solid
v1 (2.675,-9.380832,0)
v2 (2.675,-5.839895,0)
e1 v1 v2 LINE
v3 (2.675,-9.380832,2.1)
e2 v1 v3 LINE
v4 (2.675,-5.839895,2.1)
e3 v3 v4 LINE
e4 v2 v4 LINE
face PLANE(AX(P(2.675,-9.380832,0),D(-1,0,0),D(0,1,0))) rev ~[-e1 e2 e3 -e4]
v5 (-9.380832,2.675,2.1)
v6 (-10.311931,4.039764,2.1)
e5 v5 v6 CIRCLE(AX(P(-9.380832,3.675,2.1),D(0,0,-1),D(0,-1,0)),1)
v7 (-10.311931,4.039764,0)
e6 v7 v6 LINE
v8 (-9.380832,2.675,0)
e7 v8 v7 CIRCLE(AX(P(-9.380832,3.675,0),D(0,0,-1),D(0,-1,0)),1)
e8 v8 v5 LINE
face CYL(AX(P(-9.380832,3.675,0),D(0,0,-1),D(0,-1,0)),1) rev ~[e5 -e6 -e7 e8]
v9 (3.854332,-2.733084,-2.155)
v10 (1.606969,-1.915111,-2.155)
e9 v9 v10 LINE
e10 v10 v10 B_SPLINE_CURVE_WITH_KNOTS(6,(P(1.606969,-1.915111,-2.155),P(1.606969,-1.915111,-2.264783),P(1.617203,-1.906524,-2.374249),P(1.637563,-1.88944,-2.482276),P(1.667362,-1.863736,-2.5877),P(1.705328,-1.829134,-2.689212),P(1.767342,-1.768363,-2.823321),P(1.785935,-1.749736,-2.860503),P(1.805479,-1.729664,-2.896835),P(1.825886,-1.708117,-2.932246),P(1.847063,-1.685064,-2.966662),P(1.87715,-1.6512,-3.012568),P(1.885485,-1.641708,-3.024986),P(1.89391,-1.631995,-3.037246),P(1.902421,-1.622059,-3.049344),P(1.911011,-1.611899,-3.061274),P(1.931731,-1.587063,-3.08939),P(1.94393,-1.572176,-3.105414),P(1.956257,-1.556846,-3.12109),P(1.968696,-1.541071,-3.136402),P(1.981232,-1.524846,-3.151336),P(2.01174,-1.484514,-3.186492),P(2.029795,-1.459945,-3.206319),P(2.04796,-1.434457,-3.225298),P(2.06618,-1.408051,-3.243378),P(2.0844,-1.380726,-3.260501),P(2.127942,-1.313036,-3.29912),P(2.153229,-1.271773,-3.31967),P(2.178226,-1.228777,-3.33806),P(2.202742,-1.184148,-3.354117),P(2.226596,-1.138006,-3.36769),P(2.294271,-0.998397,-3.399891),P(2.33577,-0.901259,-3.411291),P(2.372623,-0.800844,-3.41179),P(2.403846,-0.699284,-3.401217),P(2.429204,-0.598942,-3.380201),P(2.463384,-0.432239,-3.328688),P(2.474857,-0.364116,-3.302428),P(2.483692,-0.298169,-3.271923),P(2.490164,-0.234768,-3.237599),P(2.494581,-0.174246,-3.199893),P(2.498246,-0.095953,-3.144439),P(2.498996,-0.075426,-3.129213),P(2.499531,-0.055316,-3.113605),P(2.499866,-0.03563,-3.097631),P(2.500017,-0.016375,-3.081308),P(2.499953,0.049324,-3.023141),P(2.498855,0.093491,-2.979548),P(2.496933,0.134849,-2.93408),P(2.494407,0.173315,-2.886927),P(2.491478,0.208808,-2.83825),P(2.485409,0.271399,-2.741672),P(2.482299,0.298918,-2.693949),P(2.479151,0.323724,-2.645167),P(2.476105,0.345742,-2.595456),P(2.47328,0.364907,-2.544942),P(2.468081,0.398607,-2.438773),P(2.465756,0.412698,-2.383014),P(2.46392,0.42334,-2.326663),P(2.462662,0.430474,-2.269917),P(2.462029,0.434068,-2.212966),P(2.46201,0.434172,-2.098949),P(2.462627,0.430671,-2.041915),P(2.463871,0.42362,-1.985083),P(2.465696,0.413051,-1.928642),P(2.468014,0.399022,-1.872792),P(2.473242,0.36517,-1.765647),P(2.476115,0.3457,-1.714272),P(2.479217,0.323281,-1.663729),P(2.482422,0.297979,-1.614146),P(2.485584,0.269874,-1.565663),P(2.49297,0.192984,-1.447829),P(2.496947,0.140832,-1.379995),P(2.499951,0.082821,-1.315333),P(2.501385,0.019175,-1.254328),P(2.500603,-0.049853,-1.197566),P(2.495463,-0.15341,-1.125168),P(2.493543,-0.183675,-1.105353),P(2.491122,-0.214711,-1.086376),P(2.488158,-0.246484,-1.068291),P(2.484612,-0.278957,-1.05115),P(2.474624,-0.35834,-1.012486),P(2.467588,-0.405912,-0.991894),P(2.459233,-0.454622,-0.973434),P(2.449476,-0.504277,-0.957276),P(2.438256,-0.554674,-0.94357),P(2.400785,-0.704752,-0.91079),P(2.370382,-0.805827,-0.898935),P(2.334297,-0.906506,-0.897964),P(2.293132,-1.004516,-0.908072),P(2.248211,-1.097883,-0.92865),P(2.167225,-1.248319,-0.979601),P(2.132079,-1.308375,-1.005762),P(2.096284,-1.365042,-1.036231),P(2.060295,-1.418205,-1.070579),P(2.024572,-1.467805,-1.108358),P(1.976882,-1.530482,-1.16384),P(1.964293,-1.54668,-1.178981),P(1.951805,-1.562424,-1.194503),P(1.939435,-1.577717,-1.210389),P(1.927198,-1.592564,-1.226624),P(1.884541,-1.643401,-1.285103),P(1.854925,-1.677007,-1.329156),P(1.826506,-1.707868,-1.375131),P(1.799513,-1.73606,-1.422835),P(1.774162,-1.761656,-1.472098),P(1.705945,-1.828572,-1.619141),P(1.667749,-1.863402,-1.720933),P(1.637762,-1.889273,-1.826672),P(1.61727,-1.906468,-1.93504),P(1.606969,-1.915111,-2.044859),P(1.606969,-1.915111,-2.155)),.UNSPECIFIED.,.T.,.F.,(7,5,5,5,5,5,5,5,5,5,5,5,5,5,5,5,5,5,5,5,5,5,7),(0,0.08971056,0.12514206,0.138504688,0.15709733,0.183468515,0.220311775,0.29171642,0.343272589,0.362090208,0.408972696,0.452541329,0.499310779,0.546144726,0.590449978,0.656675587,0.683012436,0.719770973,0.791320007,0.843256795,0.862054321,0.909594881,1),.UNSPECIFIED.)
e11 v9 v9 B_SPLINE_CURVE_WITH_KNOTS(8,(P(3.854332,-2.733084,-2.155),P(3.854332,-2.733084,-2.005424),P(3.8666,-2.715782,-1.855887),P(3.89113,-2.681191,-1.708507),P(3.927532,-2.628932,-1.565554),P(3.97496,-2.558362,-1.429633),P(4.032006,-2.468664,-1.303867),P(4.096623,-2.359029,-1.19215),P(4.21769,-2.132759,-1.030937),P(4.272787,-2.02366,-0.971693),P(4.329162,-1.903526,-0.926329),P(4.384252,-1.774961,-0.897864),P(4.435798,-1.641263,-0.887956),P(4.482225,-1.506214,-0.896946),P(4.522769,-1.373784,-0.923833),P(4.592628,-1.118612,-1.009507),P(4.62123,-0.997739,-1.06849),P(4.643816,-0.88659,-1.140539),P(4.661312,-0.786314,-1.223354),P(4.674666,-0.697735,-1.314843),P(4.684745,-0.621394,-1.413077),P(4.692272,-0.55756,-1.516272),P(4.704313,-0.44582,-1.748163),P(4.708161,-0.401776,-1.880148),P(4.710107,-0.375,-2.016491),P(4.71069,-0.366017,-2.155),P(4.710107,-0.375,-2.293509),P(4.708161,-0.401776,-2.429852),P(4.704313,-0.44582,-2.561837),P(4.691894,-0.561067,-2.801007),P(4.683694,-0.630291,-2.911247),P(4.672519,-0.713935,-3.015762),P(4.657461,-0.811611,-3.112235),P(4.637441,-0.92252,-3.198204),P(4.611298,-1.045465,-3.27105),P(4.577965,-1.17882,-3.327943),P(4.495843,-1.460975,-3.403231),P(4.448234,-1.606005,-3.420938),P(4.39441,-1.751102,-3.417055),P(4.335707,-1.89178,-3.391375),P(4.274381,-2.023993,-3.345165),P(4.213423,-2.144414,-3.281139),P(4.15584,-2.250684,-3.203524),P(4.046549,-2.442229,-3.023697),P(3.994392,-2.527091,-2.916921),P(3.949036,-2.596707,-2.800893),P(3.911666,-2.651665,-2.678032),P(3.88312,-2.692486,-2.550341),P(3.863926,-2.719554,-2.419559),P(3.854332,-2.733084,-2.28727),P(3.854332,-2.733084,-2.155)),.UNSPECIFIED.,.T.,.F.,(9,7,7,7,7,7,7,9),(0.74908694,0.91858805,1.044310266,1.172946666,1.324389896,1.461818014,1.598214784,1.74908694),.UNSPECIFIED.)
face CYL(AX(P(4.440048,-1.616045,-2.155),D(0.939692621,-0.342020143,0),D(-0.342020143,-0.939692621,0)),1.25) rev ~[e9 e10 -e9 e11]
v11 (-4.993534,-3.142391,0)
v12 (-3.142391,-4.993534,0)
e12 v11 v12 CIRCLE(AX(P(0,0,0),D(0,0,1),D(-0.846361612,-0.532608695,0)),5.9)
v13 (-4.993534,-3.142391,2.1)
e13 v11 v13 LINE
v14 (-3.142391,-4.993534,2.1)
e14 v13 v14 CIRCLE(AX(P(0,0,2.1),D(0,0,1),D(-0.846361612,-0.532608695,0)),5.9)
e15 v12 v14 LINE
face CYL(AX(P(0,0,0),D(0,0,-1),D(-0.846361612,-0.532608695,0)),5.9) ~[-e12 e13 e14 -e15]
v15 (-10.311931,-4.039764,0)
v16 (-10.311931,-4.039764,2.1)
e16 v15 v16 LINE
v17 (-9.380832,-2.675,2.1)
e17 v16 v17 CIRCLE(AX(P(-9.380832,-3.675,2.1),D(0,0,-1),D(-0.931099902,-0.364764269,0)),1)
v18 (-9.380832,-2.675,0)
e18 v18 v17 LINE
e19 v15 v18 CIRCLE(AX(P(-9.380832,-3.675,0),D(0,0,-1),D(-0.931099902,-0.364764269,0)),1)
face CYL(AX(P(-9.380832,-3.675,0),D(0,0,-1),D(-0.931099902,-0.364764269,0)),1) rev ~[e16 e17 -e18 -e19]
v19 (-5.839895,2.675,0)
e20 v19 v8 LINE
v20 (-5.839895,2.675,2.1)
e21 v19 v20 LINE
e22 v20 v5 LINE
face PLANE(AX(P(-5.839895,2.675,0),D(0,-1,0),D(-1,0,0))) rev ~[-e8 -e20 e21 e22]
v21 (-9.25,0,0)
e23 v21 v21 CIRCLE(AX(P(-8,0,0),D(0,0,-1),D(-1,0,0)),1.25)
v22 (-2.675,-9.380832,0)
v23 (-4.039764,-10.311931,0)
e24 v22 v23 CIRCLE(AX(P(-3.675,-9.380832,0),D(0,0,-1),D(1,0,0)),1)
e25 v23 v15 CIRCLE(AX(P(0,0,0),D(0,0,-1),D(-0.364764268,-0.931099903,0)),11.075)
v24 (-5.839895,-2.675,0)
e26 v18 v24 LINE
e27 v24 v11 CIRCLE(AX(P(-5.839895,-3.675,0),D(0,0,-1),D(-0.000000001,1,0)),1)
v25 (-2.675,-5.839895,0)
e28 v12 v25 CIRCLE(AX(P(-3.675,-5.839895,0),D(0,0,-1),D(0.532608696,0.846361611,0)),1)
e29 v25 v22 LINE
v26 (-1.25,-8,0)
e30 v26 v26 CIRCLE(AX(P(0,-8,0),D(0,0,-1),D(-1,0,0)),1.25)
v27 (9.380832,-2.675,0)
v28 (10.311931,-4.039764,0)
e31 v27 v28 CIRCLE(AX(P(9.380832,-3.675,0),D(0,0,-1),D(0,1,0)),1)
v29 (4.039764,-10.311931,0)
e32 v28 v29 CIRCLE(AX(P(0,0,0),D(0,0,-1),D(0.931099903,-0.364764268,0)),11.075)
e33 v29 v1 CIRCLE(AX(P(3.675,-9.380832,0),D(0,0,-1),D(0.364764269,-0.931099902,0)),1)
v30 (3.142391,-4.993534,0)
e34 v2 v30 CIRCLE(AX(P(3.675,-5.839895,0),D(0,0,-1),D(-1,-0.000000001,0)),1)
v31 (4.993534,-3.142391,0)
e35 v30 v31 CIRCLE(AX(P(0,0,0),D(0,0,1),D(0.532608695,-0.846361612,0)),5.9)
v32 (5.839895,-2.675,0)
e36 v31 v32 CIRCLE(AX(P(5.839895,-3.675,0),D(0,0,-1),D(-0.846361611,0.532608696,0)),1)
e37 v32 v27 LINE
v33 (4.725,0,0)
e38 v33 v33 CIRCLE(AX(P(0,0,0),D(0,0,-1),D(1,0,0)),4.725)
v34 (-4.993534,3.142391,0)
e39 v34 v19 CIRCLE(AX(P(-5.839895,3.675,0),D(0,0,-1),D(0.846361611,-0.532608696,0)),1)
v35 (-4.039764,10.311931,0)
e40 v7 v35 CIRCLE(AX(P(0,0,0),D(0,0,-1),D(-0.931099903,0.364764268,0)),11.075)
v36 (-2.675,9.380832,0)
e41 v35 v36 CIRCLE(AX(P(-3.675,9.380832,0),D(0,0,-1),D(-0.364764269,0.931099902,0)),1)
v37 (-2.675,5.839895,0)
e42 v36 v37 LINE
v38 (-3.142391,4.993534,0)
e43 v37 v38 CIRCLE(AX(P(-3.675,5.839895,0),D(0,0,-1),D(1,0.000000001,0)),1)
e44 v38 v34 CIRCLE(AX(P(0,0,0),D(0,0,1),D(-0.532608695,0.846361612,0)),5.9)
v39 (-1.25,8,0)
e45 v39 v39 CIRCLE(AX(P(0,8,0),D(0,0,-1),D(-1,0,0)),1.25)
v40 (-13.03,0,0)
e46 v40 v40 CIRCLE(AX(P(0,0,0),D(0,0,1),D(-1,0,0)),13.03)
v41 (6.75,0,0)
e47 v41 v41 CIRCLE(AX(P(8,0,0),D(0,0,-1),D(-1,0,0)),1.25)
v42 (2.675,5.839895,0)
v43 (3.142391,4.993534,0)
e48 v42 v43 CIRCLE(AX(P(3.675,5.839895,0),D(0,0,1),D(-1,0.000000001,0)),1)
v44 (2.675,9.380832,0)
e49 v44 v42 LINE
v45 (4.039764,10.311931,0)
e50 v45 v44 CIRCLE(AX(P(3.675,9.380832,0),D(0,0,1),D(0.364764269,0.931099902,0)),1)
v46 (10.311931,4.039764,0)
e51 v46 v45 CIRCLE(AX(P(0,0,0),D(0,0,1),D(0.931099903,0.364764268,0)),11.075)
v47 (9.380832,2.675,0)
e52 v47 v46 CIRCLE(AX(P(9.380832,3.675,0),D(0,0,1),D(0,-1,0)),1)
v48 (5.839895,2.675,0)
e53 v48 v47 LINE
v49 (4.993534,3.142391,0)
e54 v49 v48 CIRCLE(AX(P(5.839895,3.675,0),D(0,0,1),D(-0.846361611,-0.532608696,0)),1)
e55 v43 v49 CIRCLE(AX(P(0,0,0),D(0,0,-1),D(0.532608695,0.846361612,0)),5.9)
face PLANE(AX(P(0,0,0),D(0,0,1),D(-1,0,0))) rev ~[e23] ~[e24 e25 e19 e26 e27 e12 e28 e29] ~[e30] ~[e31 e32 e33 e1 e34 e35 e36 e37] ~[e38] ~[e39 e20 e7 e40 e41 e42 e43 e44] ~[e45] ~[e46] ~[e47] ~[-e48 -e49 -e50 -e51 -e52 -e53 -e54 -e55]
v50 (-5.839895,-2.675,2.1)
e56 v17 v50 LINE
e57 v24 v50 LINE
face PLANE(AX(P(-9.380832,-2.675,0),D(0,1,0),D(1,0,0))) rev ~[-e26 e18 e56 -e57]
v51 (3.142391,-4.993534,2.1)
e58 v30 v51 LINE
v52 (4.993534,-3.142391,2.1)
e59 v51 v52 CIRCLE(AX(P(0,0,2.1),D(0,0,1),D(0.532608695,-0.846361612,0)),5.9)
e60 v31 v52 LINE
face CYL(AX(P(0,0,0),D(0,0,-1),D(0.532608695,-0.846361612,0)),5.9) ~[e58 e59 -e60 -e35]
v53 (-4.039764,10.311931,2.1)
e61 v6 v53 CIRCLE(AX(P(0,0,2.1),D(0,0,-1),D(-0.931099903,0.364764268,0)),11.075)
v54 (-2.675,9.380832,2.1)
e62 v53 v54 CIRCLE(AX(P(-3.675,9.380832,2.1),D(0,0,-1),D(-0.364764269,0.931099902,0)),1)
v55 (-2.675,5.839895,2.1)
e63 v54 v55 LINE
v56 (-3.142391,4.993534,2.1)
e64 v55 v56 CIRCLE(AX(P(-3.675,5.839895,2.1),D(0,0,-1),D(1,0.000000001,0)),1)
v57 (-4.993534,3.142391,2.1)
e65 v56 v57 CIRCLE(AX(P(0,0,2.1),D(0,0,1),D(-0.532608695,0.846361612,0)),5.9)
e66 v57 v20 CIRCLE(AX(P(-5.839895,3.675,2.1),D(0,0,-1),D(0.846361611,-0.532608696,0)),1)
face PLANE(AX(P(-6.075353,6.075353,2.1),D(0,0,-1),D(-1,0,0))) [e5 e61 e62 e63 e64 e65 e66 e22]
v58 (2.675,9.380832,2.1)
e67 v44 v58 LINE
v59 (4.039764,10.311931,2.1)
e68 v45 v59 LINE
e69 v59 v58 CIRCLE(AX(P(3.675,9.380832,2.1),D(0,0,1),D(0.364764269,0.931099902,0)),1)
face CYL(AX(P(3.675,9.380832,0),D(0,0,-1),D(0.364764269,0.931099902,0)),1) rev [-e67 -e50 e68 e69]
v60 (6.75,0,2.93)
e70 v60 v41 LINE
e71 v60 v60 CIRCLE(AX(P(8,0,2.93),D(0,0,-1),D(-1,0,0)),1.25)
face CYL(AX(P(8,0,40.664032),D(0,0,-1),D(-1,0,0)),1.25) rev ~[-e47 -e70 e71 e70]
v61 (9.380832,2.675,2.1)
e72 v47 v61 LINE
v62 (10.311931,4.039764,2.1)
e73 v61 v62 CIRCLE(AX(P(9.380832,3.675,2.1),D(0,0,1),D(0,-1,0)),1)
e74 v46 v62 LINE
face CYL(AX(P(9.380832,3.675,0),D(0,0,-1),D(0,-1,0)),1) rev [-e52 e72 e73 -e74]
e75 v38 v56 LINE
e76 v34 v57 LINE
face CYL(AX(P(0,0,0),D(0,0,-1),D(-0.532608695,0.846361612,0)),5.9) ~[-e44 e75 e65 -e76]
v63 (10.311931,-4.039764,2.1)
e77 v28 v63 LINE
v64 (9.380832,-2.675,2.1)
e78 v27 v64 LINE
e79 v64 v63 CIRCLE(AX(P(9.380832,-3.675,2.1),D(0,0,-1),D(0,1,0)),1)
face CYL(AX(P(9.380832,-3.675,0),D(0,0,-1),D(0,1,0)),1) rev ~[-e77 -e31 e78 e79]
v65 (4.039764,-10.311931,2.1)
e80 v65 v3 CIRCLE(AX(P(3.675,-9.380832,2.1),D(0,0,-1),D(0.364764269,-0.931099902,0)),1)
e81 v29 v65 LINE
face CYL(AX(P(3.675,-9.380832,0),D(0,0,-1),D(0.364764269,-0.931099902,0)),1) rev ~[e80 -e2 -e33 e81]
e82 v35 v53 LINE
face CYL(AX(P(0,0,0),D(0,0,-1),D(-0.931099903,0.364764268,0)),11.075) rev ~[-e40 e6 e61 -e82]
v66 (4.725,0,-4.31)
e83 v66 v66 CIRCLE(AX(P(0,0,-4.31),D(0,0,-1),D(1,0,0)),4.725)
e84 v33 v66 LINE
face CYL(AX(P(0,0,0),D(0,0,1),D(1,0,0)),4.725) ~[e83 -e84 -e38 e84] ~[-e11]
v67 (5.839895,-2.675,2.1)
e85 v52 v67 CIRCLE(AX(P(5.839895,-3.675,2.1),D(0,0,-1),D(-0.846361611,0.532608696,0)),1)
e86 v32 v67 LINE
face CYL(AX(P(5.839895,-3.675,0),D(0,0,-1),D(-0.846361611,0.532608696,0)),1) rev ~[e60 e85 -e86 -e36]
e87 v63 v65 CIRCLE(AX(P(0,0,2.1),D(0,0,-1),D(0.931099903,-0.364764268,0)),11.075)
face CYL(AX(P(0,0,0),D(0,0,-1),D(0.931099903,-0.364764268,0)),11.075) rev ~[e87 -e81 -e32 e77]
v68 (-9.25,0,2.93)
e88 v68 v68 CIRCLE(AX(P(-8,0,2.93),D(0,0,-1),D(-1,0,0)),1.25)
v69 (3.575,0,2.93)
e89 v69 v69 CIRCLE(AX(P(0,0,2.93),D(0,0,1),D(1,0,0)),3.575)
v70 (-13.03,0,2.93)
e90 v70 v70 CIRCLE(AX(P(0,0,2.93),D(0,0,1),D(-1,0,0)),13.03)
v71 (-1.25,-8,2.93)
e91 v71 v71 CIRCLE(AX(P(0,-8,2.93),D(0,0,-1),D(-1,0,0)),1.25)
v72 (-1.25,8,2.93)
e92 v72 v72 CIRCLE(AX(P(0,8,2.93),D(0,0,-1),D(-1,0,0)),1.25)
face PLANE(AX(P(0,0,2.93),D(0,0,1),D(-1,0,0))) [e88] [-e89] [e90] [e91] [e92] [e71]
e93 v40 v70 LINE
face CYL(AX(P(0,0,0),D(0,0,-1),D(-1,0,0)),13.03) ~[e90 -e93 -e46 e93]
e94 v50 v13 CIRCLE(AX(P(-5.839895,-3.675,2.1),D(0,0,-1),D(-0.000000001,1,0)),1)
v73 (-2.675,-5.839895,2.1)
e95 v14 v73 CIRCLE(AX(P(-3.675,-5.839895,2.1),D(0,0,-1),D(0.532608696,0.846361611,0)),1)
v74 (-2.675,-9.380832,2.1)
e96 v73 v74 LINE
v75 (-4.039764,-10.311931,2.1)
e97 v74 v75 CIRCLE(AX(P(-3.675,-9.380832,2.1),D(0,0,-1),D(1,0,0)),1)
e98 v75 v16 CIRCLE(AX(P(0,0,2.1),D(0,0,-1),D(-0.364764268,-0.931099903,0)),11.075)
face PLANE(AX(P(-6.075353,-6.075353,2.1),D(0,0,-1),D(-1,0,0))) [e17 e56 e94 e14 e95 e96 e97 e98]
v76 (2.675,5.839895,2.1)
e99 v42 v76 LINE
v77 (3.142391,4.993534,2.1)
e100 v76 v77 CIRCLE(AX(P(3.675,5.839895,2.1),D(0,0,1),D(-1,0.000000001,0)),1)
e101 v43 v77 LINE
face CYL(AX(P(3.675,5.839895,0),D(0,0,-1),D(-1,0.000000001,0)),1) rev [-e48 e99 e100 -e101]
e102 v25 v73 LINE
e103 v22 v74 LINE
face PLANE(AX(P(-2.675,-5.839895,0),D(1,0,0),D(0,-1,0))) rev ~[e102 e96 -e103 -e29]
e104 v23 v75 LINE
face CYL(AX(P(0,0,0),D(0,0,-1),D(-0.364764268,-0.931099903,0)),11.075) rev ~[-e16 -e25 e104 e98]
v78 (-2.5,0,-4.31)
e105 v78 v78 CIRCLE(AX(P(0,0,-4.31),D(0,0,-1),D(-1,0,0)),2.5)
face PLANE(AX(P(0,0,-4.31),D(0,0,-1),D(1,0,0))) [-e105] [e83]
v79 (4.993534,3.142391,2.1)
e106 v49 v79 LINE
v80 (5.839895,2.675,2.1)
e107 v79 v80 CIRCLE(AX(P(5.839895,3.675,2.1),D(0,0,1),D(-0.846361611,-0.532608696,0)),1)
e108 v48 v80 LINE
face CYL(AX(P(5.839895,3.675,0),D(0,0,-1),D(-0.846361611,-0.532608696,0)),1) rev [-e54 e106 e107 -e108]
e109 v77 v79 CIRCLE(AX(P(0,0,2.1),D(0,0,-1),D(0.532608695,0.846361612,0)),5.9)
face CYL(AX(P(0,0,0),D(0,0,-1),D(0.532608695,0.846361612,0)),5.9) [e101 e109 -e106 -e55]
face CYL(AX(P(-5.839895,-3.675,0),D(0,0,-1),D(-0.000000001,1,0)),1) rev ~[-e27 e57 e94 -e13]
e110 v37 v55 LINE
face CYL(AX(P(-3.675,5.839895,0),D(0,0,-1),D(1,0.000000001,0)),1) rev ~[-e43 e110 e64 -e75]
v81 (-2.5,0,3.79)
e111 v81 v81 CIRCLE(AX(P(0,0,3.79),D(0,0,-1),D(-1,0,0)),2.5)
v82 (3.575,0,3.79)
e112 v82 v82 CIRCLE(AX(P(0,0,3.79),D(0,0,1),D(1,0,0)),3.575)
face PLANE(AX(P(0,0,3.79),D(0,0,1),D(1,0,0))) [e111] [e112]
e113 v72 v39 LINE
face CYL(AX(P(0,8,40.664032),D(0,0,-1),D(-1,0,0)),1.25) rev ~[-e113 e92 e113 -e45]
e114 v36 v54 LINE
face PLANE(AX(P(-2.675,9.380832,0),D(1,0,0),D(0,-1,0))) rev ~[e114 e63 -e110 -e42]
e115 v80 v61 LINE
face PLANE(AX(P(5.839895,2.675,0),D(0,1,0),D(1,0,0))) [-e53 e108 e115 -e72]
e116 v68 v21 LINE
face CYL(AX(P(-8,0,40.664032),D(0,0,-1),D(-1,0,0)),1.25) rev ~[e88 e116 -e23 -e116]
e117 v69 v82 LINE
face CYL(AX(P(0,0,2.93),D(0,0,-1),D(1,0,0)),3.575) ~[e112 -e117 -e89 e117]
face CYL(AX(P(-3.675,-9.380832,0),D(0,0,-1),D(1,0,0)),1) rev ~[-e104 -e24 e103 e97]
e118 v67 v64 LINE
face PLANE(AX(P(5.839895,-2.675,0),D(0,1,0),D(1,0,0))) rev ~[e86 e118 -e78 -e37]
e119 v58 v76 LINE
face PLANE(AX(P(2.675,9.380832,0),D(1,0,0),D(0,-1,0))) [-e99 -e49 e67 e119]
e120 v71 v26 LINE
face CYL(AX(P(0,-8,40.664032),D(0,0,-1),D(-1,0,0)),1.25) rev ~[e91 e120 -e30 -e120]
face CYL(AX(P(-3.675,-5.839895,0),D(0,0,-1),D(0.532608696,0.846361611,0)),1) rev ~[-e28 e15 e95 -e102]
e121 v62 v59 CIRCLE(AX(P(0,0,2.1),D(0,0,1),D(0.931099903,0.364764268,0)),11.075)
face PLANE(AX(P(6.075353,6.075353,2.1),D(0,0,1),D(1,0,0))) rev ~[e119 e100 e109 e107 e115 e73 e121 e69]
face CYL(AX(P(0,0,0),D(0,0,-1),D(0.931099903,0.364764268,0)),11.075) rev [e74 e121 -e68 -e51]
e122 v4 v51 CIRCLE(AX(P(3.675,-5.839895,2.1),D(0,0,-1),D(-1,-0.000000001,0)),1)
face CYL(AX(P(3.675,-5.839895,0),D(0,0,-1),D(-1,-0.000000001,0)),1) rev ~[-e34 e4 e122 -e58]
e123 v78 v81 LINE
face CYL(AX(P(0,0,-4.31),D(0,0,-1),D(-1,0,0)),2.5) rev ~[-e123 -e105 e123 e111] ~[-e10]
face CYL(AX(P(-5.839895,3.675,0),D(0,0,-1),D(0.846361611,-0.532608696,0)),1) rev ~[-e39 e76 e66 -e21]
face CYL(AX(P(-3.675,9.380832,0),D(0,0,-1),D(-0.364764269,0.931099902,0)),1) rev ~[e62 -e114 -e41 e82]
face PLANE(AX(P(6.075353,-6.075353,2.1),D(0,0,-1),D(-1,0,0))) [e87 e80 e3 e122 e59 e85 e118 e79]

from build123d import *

# Parameters (mm, degrees)
SCHIZZO1_R                     = 13.03
ESTRUSIONE_ESTRUSIONE1_DEPTH   = 2.93
SCHIZZO2_R                     = 3.575
ESTRUSIONE_ESTRUSIONE2_DEPTH   = 0.86
SCHIZZO3_R                     = 4.725
ESTRUSIONE_ESTRUSIONE3_DEPTH   = 4.31
SCHIZZO4_R                     = 2.5
TAGLIO_ESTRUSIONE1_DEPTH       = 21.12887975
FORO_FILETTATO_M3X0_5_1_D      = 2.5
TAGLIO_ESTRUSIONE2_DEPTH       = 2.1
FORO_FILETTATO_M3X0_5_2_REACH  = 25.201
FORO_FILETTATO_M3X0_5_2_BORE_R = 1.25


with BuildPart() as part:
    # Schizzo1 → Estrusione-Estrusione1 (new body)
    with BuildSketch(Plane.XY):
        with Locations(Location((0, 0, 0), (0, 0, 180))):
            Circle(SCHIZZO1_R)
    extrude(amount=ESTRUSIONE_ESTRUSIONE1_DEPTH)

    # Schizzo2 → Estrusione-Estrusione2 (add)
    with BuildSketch(Plane.XY.offset(2.93)):
        Circle(SCHIZZO2_R)
    extrude(amount=ESTRUSIONE_ESTRUSIONE2_DEPTH)

    # Schizzo3 → Estrusione-Estrusione3 (add)
    with BuildSketch(Plane(origin=(0, 0, 0), x_dir=(-1, 0, 0), z_dir=(0, 0, -1))):
        with Locations(Location((0, 0, 0), (0, 0, 180))):
            Circle(SCHIZZO3_R)
    extrude(amount=ESTRUSIONE_ESTRUSIONE3_DEPTH)

    # Schizzo4 → Taglio-Estrusione1 (cut, through all)
    with BuildSketch(Plane(origin=(0, 0, -4.31), x_dir=(-1, 0, 0), z_dir=(0, 0, -1))):
        Circle(SCHIZZO4_R)
    extrude(amount=-TAGLIO_ESTRUSIONE1_DEPTH, mode=Mode.SUBTRACT)

    # Foro filettato M3x0.5-1 (through all)
    with Locations(Plane.XY.offset(2.93)):
        with Locations((0, 8), (0, -8), (8, 0), (-8, 0)):
            Hole(FORO_FILETTATO_M3X0_5_1_D / 2)

    # Schizzo7 → Taglio-Estrusione2 (cut)
    with BuildSketch(Plane(origin=(0, 0, 0), x_dir=(-1, 0, 0), z_dir=(0, 0, -1))):
        with BuildLine():
            Line((2.675, 9.38083152), (2.675, 5.839895119))
            ThreePointArc((2.675, 5.839895119), (2.799611887, 5.356474337), (3.142391304, 4.993533507))
            ThreePointArc((3.142391304, 4.993533507), (4.171930009, 4.171930009), (4.993533507, 3.142391304))
            ThreePointArc((4.993533507, 3.142391304), (5.356474337, 2.799611887), (5.839895119, 2.675))
            Line((5.839895119, 2.675), (9.38083152, 2.675))
            ThreePointArc((9.38083152, 2.675), (10.206895763, 3.111424037), (10.311931422, 4.039764268))
            ThreePointArc((10.311931422, 4.039764268), (7.831207602, 7.831207602), (4.039764268, 10.311931422))
            ThreePointArc((4.039764268, 10.311931422), (3.111424037, 10.206895763), (2.675, 9.38083152))
        make_face()
        with BuildLine():
            Line((-2.675, 9.38083152), (-2.675, 5.839895119))
            ThreePointArc((-2.675, 5.839895119), (-2.799611887, 5.356474337), (-3.142391304, 4.993533507))
            ThreePointArc((-3.142391304, 4.993533507), (-4.171930009, 4.171930009), (-4.993533507, 3.142391304))
            ThreePointArc((-4.993533507, 3.142391304), (-5.356474337, 2.799611887), (-5.839895119, 2.675))
            Line((-5.839895119, 2.675), (-9.38083152, 2.675))
            ThreePointArc((-9.38083152, 2.675), (-10.206895763, 3.111424037), (-10.311931422, 4.039764268))
            ThreePointArc((-10.311931422, 4.039764268), (-7.831207602, 7.831207602), (-4.039764268, 10.311931422))
            ThreePointArc((-4.039764268, 10.311931422), (-3.111424037, 10.206895763), (-2.675, 9.38083152))
        make_face()
        with BuildLine():
            Line((9.38083152, -2.675), (5.839895119, -2.675))
            ThreePointArc((5.839895119, -2.675), (5.356474337, -2.799611887), (4.993533507, -3.142391304))
            ThreePointArc((4.993533507, -3.142391304), (4.171930009, -4.171930009), (3.142391304, -4.993533507))
            ThreePointArc((3.142391304, -4.993533507), (2.799611887, -5.356474337), (2.675, -5.839895119))
            Line((2.675, -5.839895119), (2.675, -9.38083152))
            ThreePointArc((2.675, -9.38083152), (3.111424037, -10.206895763), (4.039764268, -10.311931422))
            ThreePointArc((4.039764268, -10.311931422), (7.831207602, -7.831207602), (10.311931422, -4.039764268))
            ThreePointArc((10.311931422, -4.039764268), (10.206895763, -3.111424037), (9.38083152, -2.675))
        make_face()
        with BuildLine():
            Line((-2.675, -9.38083152), (-2.675, -5.839895119))
            ThreePointArc((-2.675, -5.839895119), (-2.799611887, -5.356474337), (-3.142391304, -4.993533507))
            ThreePointArc((-3.142391304, -4.993533507), (-4.171930009, -4.171930009), (-4.993533507, -3.142391304))
            ThreePointArc((-4.993533507, -3.142391304), (-5.356474337, -2.799611887), (-5.839895119, -2.675))
            Line((-5.839895119, -2.675), (-9.38083152, -2.675))
            ThreePointArc((-9.38083152, -2.675), (-10.206895763, -3.111424037), (-10.311931422, -4.039764268))
            ThreePointArc((-10.311931422, -4.039764268), (-7.831207602, -7.831207602), (-4.039764268, -10.311931422))
            ThreePointArc((-4.039764268, -10.311931422), (-3.111424037, -10.206895763), (-2.675, -9.38083152))
        make_face()
    extrude(amount=-TAGLIO_ESTRUSIONE2_DEPTH, mode=Mode.SUBTRACT)

    # Foro filettato M3x0.5-2 bore → Foro filettato M3x0.5-2 (cut, up to next)
    with BuildSketch(Plane(origin=(4.440047633, -1.616045177, 0), x_dir=(-0.3420201433256662, -0.9396926207859093, 0), z_dir=(0.9396926207859093, -0.3420201433256662, 0)), mode=Mode.PRIVATE) as foro_filettato_m3x0_5_2_sk1:
        with Locations((0, 2.155)):
            Circle(FORO_FILETTATO_M3X0_5_2_BORE_R)
    foro_filettato_m3x0_5_2_tool1 = extrude(foro_filettato_m3x0_5_2_sk1.sketch, amount=-FORO_FILETTATO_M3X0_5_2_REACH, mode=Mode.PRIVATE) & part.part
    add(foro_filettato_m3x0_5_2_tool1.solids().sort_by_distance((4.440048, -1.616045, -2.155))[0], mode=Mode.SUBTRACT)


solid = part.part
